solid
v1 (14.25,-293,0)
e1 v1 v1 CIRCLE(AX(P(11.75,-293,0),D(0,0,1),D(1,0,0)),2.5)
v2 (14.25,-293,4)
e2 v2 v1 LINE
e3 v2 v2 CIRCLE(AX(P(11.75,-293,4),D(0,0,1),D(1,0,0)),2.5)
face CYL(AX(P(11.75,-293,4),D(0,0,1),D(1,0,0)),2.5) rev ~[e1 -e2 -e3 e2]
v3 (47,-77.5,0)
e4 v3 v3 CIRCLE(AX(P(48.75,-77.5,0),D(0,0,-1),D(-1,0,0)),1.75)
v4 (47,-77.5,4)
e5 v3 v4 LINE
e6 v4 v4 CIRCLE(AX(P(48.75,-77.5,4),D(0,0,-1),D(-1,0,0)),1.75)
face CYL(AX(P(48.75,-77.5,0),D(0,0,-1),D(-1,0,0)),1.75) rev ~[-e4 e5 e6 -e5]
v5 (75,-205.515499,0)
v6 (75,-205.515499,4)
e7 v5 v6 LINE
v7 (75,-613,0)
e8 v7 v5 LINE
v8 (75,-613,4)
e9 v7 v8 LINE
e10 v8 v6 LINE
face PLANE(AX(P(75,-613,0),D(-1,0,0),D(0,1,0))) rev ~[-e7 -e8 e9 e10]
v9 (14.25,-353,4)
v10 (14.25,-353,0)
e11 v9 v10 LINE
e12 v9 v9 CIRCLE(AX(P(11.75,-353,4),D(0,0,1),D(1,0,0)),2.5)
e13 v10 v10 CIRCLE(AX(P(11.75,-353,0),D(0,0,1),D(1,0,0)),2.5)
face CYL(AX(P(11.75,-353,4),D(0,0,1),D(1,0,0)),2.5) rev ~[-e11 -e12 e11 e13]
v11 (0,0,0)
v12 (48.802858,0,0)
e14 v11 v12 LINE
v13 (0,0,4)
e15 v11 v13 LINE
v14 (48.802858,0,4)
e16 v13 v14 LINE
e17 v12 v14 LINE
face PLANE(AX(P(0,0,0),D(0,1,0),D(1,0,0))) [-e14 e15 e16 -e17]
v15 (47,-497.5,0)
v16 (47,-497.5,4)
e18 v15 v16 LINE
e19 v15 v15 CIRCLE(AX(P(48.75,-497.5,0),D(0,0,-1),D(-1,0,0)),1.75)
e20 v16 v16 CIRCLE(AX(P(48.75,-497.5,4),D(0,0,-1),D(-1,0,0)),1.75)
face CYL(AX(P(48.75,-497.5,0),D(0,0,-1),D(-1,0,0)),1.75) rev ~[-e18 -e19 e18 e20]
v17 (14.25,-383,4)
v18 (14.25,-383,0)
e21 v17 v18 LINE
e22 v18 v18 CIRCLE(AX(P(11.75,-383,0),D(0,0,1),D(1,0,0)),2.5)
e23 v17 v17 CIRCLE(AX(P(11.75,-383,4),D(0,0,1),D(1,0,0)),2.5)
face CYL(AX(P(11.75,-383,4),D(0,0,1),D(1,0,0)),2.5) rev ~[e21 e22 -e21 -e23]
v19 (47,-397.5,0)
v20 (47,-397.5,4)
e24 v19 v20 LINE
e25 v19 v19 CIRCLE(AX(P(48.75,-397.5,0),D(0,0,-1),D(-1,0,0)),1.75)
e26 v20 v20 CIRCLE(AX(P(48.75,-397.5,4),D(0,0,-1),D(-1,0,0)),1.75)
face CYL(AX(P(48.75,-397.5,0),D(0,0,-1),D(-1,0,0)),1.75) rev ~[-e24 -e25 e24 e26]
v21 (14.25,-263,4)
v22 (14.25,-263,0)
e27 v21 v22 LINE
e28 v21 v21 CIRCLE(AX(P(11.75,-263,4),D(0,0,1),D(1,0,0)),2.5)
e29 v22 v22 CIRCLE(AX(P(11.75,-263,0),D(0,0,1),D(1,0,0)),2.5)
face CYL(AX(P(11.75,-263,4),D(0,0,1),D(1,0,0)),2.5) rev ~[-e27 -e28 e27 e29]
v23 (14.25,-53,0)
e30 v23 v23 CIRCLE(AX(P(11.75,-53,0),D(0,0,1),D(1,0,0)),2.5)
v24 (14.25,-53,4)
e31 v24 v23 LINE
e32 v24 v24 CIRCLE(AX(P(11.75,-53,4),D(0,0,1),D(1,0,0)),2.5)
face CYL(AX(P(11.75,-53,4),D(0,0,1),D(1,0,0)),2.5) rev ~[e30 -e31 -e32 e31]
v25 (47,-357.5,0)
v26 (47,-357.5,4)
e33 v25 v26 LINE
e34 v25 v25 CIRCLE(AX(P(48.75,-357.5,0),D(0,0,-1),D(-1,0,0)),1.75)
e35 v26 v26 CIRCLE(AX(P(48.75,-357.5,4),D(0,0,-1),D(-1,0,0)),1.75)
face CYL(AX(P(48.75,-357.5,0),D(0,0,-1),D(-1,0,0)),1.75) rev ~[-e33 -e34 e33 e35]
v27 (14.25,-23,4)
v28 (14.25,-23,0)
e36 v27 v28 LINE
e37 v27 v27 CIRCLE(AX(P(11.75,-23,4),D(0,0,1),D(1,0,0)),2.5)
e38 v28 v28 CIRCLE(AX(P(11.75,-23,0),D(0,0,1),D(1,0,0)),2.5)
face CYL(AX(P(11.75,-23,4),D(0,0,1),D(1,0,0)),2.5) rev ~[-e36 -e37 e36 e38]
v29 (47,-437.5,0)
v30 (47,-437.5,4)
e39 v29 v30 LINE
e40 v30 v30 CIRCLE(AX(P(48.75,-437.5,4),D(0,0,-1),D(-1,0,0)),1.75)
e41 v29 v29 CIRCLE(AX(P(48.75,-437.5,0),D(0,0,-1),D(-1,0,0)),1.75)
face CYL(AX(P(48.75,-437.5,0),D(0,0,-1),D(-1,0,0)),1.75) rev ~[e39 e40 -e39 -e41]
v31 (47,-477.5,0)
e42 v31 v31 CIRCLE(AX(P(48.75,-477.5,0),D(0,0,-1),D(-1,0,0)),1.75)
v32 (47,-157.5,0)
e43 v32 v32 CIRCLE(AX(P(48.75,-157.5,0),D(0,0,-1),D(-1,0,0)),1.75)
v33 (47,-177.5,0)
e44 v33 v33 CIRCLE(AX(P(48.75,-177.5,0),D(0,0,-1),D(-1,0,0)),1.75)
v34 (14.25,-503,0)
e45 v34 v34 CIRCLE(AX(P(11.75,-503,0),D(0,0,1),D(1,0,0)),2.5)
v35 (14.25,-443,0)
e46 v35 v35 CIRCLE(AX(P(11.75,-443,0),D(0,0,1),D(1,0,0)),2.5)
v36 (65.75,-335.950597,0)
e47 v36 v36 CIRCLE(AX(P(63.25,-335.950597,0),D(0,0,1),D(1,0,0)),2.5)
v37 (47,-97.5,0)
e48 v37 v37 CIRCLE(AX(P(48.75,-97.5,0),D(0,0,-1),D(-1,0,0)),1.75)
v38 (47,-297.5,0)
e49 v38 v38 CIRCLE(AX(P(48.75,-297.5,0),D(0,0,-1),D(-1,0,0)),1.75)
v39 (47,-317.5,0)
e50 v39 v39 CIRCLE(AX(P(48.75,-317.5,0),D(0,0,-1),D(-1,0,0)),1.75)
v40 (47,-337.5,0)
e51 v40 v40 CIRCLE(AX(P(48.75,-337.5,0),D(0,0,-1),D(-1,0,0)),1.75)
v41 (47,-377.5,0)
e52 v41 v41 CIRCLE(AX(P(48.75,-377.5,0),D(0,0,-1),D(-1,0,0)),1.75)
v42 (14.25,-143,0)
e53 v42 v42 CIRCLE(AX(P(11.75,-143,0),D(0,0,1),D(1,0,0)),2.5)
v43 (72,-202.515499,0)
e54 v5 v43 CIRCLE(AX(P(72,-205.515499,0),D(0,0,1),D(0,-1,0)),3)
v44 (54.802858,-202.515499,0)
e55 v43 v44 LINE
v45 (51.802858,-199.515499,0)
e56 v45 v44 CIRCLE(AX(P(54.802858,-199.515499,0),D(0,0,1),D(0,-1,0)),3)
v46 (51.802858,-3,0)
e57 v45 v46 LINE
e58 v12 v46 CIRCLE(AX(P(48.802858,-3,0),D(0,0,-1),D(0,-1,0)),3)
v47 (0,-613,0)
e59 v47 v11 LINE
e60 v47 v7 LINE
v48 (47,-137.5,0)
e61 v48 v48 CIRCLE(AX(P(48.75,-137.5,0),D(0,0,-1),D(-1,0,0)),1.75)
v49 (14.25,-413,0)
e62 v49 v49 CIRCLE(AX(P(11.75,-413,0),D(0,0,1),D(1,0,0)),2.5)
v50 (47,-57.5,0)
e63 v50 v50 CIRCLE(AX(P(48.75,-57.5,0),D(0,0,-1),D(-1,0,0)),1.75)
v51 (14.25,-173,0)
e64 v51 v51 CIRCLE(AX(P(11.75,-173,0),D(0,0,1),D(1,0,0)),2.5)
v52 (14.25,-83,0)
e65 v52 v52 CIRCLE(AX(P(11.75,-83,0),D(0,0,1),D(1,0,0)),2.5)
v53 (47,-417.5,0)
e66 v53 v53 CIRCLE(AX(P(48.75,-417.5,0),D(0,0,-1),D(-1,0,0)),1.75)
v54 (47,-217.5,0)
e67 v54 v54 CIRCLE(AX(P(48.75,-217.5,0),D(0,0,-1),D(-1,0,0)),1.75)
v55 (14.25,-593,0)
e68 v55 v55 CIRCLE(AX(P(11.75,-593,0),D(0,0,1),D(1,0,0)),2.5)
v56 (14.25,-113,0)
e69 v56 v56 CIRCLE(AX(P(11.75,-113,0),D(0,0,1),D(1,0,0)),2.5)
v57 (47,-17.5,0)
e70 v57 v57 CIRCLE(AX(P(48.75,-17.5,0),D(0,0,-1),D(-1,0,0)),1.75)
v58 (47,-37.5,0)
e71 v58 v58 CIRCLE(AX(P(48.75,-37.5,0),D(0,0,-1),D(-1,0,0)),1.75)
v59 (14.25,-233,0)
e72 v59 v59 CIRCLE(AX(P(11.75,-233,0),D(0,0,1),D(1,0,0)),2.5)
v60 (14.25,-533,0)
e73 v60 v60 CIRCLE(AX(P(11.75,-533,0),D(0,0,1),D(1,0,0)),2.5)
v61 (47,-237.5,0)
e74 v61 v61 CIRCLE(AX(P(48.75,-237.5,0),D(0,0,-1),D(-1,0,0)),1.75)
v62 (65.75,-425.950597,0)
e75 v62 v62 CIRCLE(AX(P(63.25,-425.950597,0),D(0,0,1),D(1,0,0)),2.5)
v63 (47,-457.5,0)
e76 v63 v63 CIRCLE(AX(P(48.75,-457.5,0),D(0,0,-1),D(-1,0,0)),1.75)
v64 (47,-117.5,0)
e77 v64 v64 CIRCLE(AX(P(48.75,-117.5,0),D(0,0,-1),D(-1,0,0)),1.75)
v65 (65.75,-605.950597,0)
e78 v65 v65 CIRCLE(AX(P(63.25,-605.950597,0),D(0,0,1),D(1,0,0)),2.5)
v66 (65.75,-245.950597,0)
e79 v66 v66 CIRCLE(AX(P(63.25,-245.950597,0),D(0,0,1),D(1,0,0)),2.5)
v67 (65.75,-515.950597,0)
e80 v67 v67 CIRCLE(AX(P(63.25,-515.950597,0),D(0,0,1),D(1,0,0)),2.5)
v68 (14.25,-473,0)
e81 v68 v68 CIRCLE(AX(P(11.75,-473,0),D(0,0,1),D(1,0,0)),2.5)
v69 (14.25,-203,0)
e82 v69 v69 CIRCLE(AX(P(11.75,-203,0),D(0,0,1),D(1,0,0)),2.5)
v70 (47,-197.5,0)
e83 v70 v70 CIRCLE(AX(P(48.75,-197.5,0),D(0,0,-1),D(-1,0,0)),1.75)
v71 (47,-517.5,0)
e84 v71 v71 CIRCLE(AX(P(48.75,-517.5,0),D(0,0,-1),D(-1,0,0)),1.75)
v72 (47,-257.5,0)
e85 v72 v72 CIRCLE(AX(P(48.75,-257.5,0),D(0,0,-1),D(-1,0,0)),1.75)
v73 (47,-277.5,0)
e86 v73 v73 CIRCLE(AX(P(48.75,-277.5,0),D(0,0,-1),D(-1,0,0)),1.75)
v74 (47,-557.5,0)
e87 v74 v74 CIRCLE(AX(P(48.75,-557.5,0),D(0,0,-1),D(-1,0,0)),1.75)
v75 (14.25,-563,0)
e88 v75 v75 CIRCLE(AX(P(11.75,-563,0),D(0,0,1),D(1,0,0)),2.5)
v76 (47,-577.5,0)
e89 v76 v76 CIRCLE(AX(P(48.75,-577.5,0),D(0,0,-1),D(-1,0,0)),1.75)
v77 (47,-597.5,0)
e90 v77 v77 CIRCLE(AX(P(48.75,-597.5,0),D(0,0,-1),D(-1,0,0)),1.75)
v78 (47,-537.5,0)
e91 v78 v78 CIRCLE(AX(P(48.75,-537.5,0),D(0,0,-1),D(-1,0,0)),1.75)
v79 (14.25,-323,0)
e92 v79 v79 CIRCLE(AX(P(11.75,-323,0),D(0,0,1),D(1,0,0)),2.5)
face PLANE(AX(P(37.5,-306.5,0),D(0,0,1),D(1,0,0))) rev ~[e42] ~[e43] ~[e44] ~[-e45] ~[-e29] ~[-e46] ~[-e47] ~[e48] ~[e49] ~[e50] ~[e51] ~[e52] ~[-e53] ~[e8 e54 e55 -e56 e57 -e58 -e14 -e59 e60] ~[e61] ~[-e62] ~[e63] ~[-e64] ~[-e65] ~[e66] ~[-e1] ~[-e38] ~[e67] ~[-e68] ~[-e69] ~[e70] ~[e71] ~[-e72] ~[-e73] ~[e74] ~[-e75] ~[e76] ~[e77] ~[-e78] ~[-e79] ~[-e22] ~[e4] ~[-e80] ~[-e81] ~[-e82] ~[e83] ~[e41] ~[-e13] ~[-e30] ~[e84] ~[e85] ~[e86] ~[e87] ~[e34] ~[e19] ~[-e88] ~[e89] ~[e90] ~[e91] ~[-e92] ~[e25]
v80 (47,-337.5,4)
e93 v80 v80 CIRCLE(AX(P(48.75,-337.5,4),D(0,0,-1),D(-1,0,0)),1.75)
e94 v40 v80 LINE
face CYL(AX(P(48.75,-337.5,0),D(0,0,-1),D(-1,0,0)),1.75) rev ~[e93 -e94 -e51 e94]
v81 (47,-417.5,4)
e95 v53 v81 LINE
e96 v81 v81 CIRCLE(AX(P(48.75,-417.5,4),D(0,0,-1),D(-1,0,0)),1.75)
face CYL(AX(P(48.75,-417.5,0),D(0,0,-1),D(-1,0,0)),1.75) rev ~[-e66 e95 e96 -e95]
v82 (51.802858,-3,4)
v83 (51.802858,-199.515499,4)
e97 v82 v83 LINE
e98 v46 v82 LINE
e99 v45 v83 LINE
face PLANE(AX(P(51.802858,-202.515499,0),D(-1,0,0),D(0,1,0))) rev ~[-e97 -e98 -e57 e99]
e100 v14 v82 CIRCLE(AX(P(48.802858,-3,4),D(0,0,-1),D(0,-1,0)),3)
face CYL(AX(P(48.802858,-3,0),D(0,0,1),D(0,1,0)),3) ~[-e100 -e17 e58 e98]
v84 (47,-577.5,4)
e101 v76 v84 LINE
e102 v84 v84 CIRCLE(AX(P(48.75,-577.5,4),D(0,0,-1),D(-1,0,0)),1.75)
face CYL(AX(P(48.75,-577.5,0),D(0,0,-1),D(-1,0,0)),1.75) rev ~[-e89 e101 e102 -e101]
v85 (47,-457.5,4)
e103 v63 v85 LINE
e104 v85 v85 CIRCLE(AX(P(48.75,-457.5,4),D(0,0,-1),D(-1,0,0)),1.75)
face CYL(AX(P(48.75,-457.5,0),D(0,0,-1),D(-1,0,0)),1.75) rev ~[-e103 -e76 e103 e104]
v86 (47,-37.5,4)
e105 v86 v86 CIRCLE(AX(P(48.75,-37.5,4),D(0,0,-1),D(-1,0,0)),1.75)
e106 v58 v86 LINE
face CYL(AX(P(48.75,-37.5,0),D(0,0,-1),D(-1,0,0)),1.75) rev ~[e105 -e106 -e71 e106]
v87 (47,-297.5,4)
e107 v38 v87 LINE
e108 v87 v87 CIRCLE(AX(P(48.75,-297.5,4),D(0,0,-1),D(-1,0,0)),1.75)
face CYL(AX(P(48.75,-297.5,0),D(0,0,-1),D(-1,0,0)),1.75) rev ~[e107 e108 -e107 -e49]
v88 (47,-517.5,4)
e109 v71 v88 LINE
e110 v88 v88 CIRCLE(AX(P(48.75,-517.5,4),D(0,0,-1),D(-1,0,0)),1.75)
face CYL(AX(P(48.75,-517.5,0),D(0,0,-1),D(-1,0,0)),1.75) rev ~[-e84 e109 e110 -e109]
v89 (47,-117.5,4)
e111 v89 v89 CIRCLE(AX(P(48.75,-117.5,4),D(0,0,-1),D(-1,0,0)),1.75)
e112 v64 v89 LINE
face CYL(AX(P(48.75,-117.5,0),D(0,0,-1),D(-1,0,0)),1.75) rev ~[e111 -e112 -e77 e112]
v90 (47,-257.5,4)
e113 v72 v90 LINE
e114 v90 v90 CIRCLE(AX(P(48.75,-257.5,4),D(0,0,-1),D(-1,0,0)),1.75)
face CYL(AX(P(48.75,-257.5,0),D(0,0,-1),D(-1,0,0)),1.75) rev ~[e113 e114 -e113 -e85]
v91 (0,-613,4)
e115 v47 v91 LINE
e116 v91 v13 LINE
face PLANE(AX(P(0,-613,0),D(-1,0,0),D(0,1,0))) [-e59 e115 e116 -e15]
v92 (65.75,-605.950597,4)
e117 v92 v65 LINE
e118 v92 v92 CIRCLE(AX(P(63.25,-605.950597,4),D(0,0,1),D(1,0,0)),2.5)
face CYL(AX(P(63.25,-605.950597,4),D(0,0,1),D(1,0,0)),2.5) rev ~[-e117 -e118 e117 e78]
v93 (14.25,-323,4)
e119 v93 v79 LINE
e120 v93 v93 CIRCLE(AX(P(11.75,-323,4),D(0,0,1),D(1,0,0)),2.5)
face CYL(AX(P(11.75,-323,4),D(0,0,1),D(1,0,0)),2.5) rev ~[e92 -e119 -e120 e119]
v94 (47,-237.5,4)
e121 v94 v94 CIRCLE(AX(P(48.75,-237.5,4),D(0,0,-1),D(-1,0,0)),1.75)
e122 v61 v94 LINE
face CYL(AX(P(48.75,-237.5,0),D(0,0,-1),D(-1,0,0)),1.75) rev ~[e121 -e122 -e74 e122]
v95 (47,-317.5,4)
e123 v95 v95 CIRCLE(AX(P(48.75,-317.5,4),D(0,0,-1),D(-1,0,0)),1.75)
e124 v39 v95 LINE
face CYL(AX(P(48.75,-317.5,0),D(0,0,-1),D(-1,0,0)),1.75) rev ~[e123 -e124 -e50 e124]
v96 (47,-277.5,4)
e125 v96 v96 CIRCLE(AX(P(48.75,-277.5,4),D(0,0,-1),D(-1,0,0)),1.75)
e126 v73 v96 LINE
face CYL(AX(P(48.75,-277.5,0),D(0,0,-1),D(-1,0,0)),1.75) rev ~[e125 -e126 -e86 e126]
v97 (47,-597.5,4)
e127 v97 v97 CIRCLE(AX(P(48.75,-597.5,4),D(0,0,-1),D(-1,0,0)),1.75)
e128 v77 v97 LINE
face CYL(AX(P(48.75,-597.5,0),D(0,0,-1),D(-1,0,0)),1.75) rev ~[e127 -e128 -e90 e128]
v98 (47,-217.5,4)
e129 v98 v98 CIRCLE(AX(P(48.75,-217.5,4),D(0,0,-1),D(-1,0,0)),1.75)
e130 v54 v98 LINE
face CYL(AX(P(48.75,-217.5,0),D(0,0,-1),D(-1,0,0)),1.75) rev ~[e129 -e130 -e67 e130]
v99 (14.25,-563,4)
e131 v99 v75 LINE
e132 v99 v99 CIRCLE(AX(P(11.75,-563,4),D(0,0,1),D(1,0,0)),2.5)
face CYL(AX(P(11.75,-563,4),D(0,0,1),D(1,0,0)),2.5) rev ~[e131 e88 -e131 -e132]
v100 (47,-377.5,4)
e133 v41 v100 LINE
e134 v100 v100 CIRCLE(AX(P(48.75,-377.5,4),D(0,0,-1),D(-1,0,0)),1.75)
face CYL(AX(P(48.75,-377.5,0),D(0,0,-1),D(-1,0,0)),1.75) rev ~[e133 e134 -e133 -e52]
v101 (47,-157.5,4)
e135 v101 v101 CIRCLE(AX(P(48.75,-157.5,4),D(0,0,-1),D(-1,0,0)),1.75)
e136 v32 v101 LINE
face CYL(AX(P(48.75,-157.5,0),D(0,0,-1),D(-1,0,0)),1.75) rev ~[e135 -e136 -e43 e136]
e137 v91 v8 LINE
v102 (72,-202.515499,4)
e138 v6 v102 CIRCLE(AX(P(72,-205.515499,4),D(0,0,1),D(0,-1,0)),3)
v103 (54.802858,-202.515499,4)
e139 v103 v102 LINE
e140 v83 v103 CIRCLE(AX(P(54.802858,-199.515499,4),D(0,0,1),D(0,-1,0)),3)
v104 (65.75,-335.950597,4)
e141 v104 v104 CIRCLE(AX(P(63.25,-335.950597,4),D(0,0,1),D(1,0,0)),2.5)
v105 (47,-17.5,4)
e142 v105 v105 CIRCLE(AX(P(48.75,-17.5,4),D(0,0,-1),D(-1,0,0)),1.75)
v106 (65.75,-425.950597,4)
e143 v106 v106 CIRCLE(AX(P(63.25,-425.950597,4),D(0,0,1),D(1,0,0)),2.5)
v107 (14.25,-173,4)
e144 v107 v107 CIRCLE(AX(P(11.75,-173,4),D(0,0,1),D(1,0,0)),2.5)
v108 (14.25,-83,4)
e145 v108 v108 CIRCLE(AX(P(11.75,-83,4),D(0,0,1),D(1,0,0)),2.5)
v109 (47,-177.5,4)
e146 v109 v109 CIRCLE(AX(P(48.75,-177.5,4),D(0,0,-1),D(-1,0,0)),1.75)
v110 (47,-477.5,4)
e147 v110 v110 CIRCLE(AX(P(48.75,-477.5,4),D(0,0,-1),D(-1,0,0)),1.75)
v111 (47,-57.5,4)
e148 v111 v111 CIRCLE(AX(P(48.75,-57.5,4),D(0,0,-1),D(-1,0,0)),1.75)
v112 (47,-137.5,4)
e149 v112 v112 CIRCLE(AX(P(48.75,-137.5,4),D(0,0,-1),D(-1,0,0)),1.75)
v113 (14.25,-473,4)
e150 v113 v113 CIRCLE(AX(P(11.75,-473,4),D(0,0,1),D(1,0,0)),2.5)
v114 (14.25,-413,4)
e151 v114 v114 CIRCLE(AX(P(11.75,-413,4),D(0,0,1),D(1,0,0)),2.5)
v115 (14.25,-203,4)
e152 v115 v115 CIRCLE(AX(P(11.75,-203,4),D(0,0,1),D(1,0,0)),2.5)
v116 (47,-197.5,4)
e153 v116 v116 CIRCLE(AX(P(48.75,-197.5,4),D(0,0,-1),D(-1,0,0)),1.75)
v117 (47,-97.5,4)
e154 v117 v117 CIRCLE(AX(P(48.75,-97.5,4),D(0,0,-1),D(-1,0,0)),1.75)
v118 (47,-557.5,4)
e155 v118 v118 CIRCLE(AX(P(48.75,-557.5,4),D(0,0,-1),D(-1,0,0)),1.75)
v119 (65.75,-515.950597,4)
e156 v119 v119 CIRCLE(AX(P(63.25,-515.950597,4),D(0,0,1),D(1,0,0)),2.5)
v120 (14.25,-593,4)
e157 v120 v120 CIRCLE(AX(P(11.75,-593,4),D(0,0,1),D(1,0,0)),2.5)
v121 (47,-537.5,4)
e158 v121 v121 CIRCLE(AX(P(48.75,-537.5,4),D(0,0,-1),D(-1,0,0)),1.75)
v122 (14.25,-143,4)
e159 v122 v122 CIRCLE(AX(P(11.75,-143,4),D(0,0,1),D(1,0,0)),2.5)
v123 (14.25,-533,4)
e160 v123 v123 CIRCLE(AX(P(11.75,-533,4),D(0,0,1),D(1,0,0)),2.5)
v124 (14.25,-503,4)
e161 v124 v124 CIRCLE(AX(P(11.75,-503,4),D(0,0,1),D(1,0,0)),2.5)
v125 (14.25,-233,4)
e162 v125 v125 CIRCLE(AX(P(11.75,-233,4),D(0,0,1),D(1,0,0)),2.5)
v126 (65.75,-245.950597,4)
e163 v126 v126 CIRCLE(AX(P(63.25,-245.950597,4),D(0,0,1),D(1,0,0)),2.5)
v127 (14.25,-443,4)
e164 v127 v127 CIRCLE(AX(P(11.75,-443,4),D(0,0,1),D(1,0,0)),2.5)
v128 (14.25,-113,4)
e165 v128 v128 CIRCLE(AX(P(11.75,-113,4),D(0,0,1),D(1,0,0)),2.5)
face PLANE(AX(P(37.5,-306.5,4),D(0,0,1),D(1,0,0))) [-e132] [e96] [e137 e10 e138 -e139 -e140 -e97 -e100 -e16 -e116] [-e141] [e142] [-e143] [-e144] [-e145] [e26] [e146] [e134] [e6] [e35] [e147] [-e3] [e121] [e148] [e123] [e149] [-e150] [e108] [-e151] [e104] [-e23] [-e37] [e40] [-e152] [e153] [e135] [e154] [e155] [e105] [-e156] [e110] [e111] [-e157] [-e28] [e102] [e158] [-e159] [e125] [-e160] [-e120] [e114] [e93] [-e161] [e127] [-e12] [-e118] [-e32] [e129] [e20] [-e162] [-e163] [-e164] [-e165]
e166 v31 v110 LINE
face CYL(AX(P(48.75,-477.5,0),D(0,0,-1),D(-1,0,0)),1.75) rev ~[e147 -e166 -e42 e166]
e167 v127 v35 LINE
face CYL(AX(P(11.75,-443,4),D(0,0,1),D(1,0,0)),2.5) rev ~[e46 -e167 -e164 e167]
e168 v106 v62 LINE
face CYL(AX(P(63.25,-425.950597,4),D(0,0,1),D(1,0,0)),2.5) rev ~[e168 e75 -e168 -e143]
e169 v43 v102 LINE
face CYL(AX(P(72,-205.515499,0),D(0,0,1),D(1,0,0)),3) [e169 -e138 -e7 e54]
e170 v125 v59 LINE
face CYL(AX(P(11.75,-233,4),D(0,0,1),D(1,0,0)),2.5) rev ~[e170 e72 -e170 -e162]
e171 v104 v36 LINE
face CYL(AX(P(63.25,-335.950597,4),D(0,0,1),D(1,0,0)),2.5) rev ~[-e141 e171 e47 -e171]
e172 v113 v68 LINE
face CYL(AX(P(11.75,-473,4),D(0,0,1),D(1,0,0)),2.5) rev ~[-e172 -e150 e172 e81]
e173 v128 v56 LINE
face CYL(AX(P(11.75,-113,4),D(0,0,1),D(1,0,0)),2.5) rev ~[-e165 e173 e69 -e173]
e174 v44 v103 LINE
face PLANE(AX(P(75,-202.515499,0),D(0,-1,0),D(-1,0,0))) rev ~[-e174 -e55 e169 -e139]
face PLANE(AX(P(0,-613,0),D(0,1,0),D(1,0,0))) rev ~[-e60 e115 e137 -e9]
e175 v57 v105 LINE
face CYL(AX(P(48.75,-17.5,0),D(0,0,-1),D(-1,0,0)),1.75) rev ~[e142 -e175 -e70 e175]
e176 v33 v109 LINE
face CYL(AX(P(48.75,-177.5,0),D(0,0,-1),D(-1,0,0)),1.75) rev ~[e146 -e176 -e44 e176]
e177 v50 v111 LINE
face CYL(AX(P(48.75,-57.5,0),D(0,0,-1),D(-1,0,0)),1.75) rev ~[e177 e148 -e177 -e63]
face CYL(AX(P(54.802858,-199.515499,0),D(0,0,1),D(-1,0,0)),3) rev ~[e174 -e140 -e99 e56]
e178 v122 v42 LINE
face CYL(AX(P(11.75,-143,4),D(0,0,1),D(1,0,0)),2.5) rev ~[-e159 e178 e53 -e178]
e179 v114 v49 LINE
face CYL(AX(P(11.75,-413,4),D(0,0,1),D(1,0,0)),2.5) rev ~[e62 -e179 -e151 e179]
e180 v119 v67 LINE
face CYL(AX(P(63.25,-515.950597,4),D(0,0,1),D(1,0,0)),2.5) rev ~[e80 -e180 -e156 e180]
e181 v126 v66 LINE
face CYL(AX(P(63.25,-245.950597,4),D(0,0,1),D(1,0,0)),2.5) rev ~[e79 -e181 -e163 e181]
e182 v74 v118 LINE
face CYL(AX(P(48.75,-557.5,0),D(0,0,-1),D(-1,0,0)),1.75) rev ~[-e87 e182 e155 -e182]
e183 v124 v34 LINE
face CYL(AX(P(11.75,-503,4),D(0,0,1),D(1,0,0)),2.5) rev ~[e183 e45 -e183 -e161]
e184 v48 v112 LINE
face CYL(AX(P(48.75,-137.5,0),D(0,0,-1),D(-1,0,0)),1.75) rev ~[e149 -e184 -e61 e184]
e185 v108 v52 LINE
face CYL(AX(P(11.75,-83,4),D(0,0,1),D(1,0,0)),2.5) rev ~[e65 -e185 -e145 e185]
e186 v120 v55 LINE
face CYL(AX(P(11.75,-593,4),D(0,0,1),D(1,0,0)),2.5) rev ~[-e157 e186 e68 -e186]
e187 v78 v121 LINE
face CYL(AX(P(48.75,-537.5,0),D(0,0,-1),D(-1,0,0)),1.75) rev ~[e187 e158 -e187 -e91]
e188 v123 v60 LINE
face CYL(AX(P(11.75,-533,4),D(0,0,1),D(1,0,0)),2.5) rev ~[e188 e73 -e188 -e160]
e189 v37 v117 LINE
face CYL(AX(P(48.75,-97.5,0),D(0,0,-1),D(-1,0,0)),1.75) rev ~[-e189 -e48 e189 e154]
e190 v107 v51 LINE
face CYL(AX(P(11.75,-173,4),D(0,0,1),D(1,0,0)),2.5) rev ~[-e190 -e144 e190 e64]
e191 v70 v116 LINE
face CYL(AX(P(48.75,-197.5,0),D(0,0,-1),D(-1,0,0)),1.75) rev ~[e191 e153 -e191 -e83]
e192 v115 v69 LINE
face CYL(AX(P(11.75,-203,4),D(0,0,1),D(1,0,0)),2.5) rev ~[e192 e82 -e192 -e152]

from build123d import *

# Parameters (mm, degrees)
SKETCH_2_W          = 75
SKETCH_2_H          = 613
EXTRUDE_1_DEPTH     = 4
SKETCH_7_W          = 23.197141887
SKETCH_7_H          = 202.515498828
CUT_EXTRUDE_2_DEPTH = 5
FILLET_1_R          = 3
SKETCH_8_R          = 1.75
CUT_EXTRUDE_3_DEPTH = 5
SKETCH_9_R          = 2.5
CUT_EXTRUDE_4_DEPTH = 5
SKETCH_10_R         = 2.5
CUT_EXTRUDE_5_DEPTH = 5


with BuildPart() as part:
    # 草图2 → 凸台-拉伸1 (new body)
    with BuildSketch(Plane.XY):
        with Locations((37.5, -306.5)):
            Rectangle(SKETCH_2_W, SKETCH_2_H)
    extrude(amount=EXTRUDE_1_DEPTH)

    # 草图7 → 切除-拉伸2 (cut, through all)
    with BuildSketch(Plane(origin=(0, 0, 0), x_dir=(-1, 0, 0), z_dir=(0, 0, -1))):
        with Locations((-63.401429057, -101.257749414)):
            Rectangle(SKETCH_7_W, SKETCH_7_H)
    extrude(amount=-CUT_EXTRUDE_2_DEPTH, mode=Mode.SUBTRACT)

    # 圆角1
    fillet_1_edges = [part.edges().sort_by_distance(p)[0] for p in [
        (75, -202.515498828, 2),
        (51.802858113, 0, 2),
        (51.802858113, -202.515498828, 2),
    ]]
    fillet(fillet_1_edges, radius=FILLET_1_R)

    # 草图8 → 切除-拉伸3 (cut, through all)
    with BuildSketch(Plane(origin=(0, 0, 0), x_dir=(-1, 0, 0), z_dir=(0, 0, -1))):
        with Locations((-48.75, -17.5)):
            Circle(SKETCH_8_R)
        with Locations((-48.75, -37.5)):
            Circle(SKETCH_8_R)
        with Locations((-48.75, -57.5)):
            Circle(SKETCH_8_R)
        with Locations((-48.75, -77.5)):
            Circle(SKETCH_8_R)
        with Locations((-48.75, -97.5)):
            Circle(SKETCH_8_R)
        with Locations((-48.75, -117.5)):
            Circle(SKETCH_8_R)
        with Locations((-48.75, -137.5)):
            Circle(SKETCH_8_R)
        with Locations((-48.75, -157.5)):
            Circle(SKETCH_8_R)
        with Locations((-48.75, -177.5)):
            Circle(SKETCH_8_R)
        with Locations((-48.75, -197.5)):
            Circle(SKETCH_8_R)
        with Locations((-48.75, -217.5)):
            Circle(SKETCH_8_R)
        with Locations((-48.75, -237.5)):
            Circle(SKETCH_8_R)
        with Locations((-48.75, -257.5)):
            Circle(SKETCH_8_R)
        with Locations((-48.75, -277.5)):
            Circle(SKETCH_8_R)
        with Locations((-48.75, -297.5)):
            Circle(SKETCH_8_R)
        with Locations((-48.75, -317.5)):
            Circle(SKETCH_8_R)
        with Locations((-48.75, -337.5)):
            Circle(SKETCH_8_R)
        with Locations((-48.75, -357.5)):
            Circle(SKETCH_8_R)
        with Locations((-48.75, -377.5)):
            Circle(SKETCH_8_R)
        with Locations((-48.75, -397.5)):
            Circle(SKETCH_8_R)
        with Locations((-48.75, -417.5)):
            Circle(SKETCH_8_R)
        with Locations((-48.75, -437.5)):
            Circle(SKETCH_8_R)
        with Locations((-48.75, -457.5)):
            Circle(SKETCH_8_R)
        with Locations((-48.75, -477.5)):
            Circle(SKETCH_8_R)
        with Locations((-48.75, -497.5)):
            Circle(SKETCH_8_R)
        with Locations((-48.75, -517.5)):
            Circle(SKETCH_8_R)
        with Locations((-48.75, -537.5)):
            Circle(SKETCH_8_R)
        with Locations((-48.75, -557.5)):
            Circle(SKETCH_8_R)
        with Locations((-48.75, -577.5)):
            Circle(SKETCH_8_R)
        with Locations((-48.75, -597.5)):
            Circle(SKETCH_8_R)
    extrude(amount=-CUT_EXTRUDE_3_DEPTH, mode=Mode.SUBTRACT)

    # 草图9 → 切除-拉伸4 (cut, through all)
    with BuildSketch(Plane.XY.offset(4)):
        with Locations((11.75, -593)):
            Circle(SKETCH_9_R)
        with Locations((11.75, -563)):
            Circle(SKETCH_9_R)
        with Locations((11.75, -533)):
            Circle(SKETCH_9_R)
        with Locations((11.75, -503)):
            Circle(SKETCH_9_R)
        with Locations((11.75, -473)):
            Circle(SKETCH_9_R)
        with Locations((11.75, -443)):
            Circle(SKETCH_9_R)
        with Locations((11.75, -413)):
            Circle(SKETCH_9_R)
        with Locations((11.75, -383)):
            Circle(SKETCH_9_R)
        with Locations((11.75, -353)):
            Circle(SKETCH_9_R)
        with Locations((11.75, -323)):
            Circle(SKETCH_9_R)
        with Locations((11.75, -293)):
            Circle(SKETCH_9_R)
        with Locations((11.75, -263)):
            Circle(SKETCH_9_R)
        with Locations((11.75, -233)):
            Circle(SKETCH_9_R)
        with Locations((11.75, -203)):
            Circle(SKETCH_9_R)
        with Locations((11.75, -173)):
            Circle(SKETCH_9_R)
        with Locations((11.75, -143)):
            Circle(SKETCH_9_R)
        with Locations((11.75, -113)):
            Circle(SKETCH_9_R)
        with Locations((11.75, -83)):
            Circle(SKETCH_9_R)
        with Locations((11.75, -53)):
            Circle(SKETCH_9_R)
        with Locations((11.75, -23)):
            Circle(SKETCH_9_R)
    extrude(amount=-CUT_EXTRUDE_4_DEPTH, mode=Mode.SUBTRACT)

    # 草图10 → 切除-拉伸5 (cut, through all)
    with BuildSketch(Plane.XY.offset(4)):
        with Locations((63.25, -605.950596653)):
            Circle(SKETCH_10_R)
        with Locations((63.25, -515.950596653)):
            Circle(SKETCH_10_R)
        with Locations((63.25, -425.950596653)):
            Circle(SKETCH_10_R)
        with Locations((63.25, -335.950596653)):
            Circle(SKETCH_10_R)
        with Locations((63.25, -245.950596653)):
            Circle(SKETCH_10_R)
    extrude(amount=-CUT_EXTRUDE_5_DEPTH, mode=Mode.SUBTRACT)


solid = part.part
